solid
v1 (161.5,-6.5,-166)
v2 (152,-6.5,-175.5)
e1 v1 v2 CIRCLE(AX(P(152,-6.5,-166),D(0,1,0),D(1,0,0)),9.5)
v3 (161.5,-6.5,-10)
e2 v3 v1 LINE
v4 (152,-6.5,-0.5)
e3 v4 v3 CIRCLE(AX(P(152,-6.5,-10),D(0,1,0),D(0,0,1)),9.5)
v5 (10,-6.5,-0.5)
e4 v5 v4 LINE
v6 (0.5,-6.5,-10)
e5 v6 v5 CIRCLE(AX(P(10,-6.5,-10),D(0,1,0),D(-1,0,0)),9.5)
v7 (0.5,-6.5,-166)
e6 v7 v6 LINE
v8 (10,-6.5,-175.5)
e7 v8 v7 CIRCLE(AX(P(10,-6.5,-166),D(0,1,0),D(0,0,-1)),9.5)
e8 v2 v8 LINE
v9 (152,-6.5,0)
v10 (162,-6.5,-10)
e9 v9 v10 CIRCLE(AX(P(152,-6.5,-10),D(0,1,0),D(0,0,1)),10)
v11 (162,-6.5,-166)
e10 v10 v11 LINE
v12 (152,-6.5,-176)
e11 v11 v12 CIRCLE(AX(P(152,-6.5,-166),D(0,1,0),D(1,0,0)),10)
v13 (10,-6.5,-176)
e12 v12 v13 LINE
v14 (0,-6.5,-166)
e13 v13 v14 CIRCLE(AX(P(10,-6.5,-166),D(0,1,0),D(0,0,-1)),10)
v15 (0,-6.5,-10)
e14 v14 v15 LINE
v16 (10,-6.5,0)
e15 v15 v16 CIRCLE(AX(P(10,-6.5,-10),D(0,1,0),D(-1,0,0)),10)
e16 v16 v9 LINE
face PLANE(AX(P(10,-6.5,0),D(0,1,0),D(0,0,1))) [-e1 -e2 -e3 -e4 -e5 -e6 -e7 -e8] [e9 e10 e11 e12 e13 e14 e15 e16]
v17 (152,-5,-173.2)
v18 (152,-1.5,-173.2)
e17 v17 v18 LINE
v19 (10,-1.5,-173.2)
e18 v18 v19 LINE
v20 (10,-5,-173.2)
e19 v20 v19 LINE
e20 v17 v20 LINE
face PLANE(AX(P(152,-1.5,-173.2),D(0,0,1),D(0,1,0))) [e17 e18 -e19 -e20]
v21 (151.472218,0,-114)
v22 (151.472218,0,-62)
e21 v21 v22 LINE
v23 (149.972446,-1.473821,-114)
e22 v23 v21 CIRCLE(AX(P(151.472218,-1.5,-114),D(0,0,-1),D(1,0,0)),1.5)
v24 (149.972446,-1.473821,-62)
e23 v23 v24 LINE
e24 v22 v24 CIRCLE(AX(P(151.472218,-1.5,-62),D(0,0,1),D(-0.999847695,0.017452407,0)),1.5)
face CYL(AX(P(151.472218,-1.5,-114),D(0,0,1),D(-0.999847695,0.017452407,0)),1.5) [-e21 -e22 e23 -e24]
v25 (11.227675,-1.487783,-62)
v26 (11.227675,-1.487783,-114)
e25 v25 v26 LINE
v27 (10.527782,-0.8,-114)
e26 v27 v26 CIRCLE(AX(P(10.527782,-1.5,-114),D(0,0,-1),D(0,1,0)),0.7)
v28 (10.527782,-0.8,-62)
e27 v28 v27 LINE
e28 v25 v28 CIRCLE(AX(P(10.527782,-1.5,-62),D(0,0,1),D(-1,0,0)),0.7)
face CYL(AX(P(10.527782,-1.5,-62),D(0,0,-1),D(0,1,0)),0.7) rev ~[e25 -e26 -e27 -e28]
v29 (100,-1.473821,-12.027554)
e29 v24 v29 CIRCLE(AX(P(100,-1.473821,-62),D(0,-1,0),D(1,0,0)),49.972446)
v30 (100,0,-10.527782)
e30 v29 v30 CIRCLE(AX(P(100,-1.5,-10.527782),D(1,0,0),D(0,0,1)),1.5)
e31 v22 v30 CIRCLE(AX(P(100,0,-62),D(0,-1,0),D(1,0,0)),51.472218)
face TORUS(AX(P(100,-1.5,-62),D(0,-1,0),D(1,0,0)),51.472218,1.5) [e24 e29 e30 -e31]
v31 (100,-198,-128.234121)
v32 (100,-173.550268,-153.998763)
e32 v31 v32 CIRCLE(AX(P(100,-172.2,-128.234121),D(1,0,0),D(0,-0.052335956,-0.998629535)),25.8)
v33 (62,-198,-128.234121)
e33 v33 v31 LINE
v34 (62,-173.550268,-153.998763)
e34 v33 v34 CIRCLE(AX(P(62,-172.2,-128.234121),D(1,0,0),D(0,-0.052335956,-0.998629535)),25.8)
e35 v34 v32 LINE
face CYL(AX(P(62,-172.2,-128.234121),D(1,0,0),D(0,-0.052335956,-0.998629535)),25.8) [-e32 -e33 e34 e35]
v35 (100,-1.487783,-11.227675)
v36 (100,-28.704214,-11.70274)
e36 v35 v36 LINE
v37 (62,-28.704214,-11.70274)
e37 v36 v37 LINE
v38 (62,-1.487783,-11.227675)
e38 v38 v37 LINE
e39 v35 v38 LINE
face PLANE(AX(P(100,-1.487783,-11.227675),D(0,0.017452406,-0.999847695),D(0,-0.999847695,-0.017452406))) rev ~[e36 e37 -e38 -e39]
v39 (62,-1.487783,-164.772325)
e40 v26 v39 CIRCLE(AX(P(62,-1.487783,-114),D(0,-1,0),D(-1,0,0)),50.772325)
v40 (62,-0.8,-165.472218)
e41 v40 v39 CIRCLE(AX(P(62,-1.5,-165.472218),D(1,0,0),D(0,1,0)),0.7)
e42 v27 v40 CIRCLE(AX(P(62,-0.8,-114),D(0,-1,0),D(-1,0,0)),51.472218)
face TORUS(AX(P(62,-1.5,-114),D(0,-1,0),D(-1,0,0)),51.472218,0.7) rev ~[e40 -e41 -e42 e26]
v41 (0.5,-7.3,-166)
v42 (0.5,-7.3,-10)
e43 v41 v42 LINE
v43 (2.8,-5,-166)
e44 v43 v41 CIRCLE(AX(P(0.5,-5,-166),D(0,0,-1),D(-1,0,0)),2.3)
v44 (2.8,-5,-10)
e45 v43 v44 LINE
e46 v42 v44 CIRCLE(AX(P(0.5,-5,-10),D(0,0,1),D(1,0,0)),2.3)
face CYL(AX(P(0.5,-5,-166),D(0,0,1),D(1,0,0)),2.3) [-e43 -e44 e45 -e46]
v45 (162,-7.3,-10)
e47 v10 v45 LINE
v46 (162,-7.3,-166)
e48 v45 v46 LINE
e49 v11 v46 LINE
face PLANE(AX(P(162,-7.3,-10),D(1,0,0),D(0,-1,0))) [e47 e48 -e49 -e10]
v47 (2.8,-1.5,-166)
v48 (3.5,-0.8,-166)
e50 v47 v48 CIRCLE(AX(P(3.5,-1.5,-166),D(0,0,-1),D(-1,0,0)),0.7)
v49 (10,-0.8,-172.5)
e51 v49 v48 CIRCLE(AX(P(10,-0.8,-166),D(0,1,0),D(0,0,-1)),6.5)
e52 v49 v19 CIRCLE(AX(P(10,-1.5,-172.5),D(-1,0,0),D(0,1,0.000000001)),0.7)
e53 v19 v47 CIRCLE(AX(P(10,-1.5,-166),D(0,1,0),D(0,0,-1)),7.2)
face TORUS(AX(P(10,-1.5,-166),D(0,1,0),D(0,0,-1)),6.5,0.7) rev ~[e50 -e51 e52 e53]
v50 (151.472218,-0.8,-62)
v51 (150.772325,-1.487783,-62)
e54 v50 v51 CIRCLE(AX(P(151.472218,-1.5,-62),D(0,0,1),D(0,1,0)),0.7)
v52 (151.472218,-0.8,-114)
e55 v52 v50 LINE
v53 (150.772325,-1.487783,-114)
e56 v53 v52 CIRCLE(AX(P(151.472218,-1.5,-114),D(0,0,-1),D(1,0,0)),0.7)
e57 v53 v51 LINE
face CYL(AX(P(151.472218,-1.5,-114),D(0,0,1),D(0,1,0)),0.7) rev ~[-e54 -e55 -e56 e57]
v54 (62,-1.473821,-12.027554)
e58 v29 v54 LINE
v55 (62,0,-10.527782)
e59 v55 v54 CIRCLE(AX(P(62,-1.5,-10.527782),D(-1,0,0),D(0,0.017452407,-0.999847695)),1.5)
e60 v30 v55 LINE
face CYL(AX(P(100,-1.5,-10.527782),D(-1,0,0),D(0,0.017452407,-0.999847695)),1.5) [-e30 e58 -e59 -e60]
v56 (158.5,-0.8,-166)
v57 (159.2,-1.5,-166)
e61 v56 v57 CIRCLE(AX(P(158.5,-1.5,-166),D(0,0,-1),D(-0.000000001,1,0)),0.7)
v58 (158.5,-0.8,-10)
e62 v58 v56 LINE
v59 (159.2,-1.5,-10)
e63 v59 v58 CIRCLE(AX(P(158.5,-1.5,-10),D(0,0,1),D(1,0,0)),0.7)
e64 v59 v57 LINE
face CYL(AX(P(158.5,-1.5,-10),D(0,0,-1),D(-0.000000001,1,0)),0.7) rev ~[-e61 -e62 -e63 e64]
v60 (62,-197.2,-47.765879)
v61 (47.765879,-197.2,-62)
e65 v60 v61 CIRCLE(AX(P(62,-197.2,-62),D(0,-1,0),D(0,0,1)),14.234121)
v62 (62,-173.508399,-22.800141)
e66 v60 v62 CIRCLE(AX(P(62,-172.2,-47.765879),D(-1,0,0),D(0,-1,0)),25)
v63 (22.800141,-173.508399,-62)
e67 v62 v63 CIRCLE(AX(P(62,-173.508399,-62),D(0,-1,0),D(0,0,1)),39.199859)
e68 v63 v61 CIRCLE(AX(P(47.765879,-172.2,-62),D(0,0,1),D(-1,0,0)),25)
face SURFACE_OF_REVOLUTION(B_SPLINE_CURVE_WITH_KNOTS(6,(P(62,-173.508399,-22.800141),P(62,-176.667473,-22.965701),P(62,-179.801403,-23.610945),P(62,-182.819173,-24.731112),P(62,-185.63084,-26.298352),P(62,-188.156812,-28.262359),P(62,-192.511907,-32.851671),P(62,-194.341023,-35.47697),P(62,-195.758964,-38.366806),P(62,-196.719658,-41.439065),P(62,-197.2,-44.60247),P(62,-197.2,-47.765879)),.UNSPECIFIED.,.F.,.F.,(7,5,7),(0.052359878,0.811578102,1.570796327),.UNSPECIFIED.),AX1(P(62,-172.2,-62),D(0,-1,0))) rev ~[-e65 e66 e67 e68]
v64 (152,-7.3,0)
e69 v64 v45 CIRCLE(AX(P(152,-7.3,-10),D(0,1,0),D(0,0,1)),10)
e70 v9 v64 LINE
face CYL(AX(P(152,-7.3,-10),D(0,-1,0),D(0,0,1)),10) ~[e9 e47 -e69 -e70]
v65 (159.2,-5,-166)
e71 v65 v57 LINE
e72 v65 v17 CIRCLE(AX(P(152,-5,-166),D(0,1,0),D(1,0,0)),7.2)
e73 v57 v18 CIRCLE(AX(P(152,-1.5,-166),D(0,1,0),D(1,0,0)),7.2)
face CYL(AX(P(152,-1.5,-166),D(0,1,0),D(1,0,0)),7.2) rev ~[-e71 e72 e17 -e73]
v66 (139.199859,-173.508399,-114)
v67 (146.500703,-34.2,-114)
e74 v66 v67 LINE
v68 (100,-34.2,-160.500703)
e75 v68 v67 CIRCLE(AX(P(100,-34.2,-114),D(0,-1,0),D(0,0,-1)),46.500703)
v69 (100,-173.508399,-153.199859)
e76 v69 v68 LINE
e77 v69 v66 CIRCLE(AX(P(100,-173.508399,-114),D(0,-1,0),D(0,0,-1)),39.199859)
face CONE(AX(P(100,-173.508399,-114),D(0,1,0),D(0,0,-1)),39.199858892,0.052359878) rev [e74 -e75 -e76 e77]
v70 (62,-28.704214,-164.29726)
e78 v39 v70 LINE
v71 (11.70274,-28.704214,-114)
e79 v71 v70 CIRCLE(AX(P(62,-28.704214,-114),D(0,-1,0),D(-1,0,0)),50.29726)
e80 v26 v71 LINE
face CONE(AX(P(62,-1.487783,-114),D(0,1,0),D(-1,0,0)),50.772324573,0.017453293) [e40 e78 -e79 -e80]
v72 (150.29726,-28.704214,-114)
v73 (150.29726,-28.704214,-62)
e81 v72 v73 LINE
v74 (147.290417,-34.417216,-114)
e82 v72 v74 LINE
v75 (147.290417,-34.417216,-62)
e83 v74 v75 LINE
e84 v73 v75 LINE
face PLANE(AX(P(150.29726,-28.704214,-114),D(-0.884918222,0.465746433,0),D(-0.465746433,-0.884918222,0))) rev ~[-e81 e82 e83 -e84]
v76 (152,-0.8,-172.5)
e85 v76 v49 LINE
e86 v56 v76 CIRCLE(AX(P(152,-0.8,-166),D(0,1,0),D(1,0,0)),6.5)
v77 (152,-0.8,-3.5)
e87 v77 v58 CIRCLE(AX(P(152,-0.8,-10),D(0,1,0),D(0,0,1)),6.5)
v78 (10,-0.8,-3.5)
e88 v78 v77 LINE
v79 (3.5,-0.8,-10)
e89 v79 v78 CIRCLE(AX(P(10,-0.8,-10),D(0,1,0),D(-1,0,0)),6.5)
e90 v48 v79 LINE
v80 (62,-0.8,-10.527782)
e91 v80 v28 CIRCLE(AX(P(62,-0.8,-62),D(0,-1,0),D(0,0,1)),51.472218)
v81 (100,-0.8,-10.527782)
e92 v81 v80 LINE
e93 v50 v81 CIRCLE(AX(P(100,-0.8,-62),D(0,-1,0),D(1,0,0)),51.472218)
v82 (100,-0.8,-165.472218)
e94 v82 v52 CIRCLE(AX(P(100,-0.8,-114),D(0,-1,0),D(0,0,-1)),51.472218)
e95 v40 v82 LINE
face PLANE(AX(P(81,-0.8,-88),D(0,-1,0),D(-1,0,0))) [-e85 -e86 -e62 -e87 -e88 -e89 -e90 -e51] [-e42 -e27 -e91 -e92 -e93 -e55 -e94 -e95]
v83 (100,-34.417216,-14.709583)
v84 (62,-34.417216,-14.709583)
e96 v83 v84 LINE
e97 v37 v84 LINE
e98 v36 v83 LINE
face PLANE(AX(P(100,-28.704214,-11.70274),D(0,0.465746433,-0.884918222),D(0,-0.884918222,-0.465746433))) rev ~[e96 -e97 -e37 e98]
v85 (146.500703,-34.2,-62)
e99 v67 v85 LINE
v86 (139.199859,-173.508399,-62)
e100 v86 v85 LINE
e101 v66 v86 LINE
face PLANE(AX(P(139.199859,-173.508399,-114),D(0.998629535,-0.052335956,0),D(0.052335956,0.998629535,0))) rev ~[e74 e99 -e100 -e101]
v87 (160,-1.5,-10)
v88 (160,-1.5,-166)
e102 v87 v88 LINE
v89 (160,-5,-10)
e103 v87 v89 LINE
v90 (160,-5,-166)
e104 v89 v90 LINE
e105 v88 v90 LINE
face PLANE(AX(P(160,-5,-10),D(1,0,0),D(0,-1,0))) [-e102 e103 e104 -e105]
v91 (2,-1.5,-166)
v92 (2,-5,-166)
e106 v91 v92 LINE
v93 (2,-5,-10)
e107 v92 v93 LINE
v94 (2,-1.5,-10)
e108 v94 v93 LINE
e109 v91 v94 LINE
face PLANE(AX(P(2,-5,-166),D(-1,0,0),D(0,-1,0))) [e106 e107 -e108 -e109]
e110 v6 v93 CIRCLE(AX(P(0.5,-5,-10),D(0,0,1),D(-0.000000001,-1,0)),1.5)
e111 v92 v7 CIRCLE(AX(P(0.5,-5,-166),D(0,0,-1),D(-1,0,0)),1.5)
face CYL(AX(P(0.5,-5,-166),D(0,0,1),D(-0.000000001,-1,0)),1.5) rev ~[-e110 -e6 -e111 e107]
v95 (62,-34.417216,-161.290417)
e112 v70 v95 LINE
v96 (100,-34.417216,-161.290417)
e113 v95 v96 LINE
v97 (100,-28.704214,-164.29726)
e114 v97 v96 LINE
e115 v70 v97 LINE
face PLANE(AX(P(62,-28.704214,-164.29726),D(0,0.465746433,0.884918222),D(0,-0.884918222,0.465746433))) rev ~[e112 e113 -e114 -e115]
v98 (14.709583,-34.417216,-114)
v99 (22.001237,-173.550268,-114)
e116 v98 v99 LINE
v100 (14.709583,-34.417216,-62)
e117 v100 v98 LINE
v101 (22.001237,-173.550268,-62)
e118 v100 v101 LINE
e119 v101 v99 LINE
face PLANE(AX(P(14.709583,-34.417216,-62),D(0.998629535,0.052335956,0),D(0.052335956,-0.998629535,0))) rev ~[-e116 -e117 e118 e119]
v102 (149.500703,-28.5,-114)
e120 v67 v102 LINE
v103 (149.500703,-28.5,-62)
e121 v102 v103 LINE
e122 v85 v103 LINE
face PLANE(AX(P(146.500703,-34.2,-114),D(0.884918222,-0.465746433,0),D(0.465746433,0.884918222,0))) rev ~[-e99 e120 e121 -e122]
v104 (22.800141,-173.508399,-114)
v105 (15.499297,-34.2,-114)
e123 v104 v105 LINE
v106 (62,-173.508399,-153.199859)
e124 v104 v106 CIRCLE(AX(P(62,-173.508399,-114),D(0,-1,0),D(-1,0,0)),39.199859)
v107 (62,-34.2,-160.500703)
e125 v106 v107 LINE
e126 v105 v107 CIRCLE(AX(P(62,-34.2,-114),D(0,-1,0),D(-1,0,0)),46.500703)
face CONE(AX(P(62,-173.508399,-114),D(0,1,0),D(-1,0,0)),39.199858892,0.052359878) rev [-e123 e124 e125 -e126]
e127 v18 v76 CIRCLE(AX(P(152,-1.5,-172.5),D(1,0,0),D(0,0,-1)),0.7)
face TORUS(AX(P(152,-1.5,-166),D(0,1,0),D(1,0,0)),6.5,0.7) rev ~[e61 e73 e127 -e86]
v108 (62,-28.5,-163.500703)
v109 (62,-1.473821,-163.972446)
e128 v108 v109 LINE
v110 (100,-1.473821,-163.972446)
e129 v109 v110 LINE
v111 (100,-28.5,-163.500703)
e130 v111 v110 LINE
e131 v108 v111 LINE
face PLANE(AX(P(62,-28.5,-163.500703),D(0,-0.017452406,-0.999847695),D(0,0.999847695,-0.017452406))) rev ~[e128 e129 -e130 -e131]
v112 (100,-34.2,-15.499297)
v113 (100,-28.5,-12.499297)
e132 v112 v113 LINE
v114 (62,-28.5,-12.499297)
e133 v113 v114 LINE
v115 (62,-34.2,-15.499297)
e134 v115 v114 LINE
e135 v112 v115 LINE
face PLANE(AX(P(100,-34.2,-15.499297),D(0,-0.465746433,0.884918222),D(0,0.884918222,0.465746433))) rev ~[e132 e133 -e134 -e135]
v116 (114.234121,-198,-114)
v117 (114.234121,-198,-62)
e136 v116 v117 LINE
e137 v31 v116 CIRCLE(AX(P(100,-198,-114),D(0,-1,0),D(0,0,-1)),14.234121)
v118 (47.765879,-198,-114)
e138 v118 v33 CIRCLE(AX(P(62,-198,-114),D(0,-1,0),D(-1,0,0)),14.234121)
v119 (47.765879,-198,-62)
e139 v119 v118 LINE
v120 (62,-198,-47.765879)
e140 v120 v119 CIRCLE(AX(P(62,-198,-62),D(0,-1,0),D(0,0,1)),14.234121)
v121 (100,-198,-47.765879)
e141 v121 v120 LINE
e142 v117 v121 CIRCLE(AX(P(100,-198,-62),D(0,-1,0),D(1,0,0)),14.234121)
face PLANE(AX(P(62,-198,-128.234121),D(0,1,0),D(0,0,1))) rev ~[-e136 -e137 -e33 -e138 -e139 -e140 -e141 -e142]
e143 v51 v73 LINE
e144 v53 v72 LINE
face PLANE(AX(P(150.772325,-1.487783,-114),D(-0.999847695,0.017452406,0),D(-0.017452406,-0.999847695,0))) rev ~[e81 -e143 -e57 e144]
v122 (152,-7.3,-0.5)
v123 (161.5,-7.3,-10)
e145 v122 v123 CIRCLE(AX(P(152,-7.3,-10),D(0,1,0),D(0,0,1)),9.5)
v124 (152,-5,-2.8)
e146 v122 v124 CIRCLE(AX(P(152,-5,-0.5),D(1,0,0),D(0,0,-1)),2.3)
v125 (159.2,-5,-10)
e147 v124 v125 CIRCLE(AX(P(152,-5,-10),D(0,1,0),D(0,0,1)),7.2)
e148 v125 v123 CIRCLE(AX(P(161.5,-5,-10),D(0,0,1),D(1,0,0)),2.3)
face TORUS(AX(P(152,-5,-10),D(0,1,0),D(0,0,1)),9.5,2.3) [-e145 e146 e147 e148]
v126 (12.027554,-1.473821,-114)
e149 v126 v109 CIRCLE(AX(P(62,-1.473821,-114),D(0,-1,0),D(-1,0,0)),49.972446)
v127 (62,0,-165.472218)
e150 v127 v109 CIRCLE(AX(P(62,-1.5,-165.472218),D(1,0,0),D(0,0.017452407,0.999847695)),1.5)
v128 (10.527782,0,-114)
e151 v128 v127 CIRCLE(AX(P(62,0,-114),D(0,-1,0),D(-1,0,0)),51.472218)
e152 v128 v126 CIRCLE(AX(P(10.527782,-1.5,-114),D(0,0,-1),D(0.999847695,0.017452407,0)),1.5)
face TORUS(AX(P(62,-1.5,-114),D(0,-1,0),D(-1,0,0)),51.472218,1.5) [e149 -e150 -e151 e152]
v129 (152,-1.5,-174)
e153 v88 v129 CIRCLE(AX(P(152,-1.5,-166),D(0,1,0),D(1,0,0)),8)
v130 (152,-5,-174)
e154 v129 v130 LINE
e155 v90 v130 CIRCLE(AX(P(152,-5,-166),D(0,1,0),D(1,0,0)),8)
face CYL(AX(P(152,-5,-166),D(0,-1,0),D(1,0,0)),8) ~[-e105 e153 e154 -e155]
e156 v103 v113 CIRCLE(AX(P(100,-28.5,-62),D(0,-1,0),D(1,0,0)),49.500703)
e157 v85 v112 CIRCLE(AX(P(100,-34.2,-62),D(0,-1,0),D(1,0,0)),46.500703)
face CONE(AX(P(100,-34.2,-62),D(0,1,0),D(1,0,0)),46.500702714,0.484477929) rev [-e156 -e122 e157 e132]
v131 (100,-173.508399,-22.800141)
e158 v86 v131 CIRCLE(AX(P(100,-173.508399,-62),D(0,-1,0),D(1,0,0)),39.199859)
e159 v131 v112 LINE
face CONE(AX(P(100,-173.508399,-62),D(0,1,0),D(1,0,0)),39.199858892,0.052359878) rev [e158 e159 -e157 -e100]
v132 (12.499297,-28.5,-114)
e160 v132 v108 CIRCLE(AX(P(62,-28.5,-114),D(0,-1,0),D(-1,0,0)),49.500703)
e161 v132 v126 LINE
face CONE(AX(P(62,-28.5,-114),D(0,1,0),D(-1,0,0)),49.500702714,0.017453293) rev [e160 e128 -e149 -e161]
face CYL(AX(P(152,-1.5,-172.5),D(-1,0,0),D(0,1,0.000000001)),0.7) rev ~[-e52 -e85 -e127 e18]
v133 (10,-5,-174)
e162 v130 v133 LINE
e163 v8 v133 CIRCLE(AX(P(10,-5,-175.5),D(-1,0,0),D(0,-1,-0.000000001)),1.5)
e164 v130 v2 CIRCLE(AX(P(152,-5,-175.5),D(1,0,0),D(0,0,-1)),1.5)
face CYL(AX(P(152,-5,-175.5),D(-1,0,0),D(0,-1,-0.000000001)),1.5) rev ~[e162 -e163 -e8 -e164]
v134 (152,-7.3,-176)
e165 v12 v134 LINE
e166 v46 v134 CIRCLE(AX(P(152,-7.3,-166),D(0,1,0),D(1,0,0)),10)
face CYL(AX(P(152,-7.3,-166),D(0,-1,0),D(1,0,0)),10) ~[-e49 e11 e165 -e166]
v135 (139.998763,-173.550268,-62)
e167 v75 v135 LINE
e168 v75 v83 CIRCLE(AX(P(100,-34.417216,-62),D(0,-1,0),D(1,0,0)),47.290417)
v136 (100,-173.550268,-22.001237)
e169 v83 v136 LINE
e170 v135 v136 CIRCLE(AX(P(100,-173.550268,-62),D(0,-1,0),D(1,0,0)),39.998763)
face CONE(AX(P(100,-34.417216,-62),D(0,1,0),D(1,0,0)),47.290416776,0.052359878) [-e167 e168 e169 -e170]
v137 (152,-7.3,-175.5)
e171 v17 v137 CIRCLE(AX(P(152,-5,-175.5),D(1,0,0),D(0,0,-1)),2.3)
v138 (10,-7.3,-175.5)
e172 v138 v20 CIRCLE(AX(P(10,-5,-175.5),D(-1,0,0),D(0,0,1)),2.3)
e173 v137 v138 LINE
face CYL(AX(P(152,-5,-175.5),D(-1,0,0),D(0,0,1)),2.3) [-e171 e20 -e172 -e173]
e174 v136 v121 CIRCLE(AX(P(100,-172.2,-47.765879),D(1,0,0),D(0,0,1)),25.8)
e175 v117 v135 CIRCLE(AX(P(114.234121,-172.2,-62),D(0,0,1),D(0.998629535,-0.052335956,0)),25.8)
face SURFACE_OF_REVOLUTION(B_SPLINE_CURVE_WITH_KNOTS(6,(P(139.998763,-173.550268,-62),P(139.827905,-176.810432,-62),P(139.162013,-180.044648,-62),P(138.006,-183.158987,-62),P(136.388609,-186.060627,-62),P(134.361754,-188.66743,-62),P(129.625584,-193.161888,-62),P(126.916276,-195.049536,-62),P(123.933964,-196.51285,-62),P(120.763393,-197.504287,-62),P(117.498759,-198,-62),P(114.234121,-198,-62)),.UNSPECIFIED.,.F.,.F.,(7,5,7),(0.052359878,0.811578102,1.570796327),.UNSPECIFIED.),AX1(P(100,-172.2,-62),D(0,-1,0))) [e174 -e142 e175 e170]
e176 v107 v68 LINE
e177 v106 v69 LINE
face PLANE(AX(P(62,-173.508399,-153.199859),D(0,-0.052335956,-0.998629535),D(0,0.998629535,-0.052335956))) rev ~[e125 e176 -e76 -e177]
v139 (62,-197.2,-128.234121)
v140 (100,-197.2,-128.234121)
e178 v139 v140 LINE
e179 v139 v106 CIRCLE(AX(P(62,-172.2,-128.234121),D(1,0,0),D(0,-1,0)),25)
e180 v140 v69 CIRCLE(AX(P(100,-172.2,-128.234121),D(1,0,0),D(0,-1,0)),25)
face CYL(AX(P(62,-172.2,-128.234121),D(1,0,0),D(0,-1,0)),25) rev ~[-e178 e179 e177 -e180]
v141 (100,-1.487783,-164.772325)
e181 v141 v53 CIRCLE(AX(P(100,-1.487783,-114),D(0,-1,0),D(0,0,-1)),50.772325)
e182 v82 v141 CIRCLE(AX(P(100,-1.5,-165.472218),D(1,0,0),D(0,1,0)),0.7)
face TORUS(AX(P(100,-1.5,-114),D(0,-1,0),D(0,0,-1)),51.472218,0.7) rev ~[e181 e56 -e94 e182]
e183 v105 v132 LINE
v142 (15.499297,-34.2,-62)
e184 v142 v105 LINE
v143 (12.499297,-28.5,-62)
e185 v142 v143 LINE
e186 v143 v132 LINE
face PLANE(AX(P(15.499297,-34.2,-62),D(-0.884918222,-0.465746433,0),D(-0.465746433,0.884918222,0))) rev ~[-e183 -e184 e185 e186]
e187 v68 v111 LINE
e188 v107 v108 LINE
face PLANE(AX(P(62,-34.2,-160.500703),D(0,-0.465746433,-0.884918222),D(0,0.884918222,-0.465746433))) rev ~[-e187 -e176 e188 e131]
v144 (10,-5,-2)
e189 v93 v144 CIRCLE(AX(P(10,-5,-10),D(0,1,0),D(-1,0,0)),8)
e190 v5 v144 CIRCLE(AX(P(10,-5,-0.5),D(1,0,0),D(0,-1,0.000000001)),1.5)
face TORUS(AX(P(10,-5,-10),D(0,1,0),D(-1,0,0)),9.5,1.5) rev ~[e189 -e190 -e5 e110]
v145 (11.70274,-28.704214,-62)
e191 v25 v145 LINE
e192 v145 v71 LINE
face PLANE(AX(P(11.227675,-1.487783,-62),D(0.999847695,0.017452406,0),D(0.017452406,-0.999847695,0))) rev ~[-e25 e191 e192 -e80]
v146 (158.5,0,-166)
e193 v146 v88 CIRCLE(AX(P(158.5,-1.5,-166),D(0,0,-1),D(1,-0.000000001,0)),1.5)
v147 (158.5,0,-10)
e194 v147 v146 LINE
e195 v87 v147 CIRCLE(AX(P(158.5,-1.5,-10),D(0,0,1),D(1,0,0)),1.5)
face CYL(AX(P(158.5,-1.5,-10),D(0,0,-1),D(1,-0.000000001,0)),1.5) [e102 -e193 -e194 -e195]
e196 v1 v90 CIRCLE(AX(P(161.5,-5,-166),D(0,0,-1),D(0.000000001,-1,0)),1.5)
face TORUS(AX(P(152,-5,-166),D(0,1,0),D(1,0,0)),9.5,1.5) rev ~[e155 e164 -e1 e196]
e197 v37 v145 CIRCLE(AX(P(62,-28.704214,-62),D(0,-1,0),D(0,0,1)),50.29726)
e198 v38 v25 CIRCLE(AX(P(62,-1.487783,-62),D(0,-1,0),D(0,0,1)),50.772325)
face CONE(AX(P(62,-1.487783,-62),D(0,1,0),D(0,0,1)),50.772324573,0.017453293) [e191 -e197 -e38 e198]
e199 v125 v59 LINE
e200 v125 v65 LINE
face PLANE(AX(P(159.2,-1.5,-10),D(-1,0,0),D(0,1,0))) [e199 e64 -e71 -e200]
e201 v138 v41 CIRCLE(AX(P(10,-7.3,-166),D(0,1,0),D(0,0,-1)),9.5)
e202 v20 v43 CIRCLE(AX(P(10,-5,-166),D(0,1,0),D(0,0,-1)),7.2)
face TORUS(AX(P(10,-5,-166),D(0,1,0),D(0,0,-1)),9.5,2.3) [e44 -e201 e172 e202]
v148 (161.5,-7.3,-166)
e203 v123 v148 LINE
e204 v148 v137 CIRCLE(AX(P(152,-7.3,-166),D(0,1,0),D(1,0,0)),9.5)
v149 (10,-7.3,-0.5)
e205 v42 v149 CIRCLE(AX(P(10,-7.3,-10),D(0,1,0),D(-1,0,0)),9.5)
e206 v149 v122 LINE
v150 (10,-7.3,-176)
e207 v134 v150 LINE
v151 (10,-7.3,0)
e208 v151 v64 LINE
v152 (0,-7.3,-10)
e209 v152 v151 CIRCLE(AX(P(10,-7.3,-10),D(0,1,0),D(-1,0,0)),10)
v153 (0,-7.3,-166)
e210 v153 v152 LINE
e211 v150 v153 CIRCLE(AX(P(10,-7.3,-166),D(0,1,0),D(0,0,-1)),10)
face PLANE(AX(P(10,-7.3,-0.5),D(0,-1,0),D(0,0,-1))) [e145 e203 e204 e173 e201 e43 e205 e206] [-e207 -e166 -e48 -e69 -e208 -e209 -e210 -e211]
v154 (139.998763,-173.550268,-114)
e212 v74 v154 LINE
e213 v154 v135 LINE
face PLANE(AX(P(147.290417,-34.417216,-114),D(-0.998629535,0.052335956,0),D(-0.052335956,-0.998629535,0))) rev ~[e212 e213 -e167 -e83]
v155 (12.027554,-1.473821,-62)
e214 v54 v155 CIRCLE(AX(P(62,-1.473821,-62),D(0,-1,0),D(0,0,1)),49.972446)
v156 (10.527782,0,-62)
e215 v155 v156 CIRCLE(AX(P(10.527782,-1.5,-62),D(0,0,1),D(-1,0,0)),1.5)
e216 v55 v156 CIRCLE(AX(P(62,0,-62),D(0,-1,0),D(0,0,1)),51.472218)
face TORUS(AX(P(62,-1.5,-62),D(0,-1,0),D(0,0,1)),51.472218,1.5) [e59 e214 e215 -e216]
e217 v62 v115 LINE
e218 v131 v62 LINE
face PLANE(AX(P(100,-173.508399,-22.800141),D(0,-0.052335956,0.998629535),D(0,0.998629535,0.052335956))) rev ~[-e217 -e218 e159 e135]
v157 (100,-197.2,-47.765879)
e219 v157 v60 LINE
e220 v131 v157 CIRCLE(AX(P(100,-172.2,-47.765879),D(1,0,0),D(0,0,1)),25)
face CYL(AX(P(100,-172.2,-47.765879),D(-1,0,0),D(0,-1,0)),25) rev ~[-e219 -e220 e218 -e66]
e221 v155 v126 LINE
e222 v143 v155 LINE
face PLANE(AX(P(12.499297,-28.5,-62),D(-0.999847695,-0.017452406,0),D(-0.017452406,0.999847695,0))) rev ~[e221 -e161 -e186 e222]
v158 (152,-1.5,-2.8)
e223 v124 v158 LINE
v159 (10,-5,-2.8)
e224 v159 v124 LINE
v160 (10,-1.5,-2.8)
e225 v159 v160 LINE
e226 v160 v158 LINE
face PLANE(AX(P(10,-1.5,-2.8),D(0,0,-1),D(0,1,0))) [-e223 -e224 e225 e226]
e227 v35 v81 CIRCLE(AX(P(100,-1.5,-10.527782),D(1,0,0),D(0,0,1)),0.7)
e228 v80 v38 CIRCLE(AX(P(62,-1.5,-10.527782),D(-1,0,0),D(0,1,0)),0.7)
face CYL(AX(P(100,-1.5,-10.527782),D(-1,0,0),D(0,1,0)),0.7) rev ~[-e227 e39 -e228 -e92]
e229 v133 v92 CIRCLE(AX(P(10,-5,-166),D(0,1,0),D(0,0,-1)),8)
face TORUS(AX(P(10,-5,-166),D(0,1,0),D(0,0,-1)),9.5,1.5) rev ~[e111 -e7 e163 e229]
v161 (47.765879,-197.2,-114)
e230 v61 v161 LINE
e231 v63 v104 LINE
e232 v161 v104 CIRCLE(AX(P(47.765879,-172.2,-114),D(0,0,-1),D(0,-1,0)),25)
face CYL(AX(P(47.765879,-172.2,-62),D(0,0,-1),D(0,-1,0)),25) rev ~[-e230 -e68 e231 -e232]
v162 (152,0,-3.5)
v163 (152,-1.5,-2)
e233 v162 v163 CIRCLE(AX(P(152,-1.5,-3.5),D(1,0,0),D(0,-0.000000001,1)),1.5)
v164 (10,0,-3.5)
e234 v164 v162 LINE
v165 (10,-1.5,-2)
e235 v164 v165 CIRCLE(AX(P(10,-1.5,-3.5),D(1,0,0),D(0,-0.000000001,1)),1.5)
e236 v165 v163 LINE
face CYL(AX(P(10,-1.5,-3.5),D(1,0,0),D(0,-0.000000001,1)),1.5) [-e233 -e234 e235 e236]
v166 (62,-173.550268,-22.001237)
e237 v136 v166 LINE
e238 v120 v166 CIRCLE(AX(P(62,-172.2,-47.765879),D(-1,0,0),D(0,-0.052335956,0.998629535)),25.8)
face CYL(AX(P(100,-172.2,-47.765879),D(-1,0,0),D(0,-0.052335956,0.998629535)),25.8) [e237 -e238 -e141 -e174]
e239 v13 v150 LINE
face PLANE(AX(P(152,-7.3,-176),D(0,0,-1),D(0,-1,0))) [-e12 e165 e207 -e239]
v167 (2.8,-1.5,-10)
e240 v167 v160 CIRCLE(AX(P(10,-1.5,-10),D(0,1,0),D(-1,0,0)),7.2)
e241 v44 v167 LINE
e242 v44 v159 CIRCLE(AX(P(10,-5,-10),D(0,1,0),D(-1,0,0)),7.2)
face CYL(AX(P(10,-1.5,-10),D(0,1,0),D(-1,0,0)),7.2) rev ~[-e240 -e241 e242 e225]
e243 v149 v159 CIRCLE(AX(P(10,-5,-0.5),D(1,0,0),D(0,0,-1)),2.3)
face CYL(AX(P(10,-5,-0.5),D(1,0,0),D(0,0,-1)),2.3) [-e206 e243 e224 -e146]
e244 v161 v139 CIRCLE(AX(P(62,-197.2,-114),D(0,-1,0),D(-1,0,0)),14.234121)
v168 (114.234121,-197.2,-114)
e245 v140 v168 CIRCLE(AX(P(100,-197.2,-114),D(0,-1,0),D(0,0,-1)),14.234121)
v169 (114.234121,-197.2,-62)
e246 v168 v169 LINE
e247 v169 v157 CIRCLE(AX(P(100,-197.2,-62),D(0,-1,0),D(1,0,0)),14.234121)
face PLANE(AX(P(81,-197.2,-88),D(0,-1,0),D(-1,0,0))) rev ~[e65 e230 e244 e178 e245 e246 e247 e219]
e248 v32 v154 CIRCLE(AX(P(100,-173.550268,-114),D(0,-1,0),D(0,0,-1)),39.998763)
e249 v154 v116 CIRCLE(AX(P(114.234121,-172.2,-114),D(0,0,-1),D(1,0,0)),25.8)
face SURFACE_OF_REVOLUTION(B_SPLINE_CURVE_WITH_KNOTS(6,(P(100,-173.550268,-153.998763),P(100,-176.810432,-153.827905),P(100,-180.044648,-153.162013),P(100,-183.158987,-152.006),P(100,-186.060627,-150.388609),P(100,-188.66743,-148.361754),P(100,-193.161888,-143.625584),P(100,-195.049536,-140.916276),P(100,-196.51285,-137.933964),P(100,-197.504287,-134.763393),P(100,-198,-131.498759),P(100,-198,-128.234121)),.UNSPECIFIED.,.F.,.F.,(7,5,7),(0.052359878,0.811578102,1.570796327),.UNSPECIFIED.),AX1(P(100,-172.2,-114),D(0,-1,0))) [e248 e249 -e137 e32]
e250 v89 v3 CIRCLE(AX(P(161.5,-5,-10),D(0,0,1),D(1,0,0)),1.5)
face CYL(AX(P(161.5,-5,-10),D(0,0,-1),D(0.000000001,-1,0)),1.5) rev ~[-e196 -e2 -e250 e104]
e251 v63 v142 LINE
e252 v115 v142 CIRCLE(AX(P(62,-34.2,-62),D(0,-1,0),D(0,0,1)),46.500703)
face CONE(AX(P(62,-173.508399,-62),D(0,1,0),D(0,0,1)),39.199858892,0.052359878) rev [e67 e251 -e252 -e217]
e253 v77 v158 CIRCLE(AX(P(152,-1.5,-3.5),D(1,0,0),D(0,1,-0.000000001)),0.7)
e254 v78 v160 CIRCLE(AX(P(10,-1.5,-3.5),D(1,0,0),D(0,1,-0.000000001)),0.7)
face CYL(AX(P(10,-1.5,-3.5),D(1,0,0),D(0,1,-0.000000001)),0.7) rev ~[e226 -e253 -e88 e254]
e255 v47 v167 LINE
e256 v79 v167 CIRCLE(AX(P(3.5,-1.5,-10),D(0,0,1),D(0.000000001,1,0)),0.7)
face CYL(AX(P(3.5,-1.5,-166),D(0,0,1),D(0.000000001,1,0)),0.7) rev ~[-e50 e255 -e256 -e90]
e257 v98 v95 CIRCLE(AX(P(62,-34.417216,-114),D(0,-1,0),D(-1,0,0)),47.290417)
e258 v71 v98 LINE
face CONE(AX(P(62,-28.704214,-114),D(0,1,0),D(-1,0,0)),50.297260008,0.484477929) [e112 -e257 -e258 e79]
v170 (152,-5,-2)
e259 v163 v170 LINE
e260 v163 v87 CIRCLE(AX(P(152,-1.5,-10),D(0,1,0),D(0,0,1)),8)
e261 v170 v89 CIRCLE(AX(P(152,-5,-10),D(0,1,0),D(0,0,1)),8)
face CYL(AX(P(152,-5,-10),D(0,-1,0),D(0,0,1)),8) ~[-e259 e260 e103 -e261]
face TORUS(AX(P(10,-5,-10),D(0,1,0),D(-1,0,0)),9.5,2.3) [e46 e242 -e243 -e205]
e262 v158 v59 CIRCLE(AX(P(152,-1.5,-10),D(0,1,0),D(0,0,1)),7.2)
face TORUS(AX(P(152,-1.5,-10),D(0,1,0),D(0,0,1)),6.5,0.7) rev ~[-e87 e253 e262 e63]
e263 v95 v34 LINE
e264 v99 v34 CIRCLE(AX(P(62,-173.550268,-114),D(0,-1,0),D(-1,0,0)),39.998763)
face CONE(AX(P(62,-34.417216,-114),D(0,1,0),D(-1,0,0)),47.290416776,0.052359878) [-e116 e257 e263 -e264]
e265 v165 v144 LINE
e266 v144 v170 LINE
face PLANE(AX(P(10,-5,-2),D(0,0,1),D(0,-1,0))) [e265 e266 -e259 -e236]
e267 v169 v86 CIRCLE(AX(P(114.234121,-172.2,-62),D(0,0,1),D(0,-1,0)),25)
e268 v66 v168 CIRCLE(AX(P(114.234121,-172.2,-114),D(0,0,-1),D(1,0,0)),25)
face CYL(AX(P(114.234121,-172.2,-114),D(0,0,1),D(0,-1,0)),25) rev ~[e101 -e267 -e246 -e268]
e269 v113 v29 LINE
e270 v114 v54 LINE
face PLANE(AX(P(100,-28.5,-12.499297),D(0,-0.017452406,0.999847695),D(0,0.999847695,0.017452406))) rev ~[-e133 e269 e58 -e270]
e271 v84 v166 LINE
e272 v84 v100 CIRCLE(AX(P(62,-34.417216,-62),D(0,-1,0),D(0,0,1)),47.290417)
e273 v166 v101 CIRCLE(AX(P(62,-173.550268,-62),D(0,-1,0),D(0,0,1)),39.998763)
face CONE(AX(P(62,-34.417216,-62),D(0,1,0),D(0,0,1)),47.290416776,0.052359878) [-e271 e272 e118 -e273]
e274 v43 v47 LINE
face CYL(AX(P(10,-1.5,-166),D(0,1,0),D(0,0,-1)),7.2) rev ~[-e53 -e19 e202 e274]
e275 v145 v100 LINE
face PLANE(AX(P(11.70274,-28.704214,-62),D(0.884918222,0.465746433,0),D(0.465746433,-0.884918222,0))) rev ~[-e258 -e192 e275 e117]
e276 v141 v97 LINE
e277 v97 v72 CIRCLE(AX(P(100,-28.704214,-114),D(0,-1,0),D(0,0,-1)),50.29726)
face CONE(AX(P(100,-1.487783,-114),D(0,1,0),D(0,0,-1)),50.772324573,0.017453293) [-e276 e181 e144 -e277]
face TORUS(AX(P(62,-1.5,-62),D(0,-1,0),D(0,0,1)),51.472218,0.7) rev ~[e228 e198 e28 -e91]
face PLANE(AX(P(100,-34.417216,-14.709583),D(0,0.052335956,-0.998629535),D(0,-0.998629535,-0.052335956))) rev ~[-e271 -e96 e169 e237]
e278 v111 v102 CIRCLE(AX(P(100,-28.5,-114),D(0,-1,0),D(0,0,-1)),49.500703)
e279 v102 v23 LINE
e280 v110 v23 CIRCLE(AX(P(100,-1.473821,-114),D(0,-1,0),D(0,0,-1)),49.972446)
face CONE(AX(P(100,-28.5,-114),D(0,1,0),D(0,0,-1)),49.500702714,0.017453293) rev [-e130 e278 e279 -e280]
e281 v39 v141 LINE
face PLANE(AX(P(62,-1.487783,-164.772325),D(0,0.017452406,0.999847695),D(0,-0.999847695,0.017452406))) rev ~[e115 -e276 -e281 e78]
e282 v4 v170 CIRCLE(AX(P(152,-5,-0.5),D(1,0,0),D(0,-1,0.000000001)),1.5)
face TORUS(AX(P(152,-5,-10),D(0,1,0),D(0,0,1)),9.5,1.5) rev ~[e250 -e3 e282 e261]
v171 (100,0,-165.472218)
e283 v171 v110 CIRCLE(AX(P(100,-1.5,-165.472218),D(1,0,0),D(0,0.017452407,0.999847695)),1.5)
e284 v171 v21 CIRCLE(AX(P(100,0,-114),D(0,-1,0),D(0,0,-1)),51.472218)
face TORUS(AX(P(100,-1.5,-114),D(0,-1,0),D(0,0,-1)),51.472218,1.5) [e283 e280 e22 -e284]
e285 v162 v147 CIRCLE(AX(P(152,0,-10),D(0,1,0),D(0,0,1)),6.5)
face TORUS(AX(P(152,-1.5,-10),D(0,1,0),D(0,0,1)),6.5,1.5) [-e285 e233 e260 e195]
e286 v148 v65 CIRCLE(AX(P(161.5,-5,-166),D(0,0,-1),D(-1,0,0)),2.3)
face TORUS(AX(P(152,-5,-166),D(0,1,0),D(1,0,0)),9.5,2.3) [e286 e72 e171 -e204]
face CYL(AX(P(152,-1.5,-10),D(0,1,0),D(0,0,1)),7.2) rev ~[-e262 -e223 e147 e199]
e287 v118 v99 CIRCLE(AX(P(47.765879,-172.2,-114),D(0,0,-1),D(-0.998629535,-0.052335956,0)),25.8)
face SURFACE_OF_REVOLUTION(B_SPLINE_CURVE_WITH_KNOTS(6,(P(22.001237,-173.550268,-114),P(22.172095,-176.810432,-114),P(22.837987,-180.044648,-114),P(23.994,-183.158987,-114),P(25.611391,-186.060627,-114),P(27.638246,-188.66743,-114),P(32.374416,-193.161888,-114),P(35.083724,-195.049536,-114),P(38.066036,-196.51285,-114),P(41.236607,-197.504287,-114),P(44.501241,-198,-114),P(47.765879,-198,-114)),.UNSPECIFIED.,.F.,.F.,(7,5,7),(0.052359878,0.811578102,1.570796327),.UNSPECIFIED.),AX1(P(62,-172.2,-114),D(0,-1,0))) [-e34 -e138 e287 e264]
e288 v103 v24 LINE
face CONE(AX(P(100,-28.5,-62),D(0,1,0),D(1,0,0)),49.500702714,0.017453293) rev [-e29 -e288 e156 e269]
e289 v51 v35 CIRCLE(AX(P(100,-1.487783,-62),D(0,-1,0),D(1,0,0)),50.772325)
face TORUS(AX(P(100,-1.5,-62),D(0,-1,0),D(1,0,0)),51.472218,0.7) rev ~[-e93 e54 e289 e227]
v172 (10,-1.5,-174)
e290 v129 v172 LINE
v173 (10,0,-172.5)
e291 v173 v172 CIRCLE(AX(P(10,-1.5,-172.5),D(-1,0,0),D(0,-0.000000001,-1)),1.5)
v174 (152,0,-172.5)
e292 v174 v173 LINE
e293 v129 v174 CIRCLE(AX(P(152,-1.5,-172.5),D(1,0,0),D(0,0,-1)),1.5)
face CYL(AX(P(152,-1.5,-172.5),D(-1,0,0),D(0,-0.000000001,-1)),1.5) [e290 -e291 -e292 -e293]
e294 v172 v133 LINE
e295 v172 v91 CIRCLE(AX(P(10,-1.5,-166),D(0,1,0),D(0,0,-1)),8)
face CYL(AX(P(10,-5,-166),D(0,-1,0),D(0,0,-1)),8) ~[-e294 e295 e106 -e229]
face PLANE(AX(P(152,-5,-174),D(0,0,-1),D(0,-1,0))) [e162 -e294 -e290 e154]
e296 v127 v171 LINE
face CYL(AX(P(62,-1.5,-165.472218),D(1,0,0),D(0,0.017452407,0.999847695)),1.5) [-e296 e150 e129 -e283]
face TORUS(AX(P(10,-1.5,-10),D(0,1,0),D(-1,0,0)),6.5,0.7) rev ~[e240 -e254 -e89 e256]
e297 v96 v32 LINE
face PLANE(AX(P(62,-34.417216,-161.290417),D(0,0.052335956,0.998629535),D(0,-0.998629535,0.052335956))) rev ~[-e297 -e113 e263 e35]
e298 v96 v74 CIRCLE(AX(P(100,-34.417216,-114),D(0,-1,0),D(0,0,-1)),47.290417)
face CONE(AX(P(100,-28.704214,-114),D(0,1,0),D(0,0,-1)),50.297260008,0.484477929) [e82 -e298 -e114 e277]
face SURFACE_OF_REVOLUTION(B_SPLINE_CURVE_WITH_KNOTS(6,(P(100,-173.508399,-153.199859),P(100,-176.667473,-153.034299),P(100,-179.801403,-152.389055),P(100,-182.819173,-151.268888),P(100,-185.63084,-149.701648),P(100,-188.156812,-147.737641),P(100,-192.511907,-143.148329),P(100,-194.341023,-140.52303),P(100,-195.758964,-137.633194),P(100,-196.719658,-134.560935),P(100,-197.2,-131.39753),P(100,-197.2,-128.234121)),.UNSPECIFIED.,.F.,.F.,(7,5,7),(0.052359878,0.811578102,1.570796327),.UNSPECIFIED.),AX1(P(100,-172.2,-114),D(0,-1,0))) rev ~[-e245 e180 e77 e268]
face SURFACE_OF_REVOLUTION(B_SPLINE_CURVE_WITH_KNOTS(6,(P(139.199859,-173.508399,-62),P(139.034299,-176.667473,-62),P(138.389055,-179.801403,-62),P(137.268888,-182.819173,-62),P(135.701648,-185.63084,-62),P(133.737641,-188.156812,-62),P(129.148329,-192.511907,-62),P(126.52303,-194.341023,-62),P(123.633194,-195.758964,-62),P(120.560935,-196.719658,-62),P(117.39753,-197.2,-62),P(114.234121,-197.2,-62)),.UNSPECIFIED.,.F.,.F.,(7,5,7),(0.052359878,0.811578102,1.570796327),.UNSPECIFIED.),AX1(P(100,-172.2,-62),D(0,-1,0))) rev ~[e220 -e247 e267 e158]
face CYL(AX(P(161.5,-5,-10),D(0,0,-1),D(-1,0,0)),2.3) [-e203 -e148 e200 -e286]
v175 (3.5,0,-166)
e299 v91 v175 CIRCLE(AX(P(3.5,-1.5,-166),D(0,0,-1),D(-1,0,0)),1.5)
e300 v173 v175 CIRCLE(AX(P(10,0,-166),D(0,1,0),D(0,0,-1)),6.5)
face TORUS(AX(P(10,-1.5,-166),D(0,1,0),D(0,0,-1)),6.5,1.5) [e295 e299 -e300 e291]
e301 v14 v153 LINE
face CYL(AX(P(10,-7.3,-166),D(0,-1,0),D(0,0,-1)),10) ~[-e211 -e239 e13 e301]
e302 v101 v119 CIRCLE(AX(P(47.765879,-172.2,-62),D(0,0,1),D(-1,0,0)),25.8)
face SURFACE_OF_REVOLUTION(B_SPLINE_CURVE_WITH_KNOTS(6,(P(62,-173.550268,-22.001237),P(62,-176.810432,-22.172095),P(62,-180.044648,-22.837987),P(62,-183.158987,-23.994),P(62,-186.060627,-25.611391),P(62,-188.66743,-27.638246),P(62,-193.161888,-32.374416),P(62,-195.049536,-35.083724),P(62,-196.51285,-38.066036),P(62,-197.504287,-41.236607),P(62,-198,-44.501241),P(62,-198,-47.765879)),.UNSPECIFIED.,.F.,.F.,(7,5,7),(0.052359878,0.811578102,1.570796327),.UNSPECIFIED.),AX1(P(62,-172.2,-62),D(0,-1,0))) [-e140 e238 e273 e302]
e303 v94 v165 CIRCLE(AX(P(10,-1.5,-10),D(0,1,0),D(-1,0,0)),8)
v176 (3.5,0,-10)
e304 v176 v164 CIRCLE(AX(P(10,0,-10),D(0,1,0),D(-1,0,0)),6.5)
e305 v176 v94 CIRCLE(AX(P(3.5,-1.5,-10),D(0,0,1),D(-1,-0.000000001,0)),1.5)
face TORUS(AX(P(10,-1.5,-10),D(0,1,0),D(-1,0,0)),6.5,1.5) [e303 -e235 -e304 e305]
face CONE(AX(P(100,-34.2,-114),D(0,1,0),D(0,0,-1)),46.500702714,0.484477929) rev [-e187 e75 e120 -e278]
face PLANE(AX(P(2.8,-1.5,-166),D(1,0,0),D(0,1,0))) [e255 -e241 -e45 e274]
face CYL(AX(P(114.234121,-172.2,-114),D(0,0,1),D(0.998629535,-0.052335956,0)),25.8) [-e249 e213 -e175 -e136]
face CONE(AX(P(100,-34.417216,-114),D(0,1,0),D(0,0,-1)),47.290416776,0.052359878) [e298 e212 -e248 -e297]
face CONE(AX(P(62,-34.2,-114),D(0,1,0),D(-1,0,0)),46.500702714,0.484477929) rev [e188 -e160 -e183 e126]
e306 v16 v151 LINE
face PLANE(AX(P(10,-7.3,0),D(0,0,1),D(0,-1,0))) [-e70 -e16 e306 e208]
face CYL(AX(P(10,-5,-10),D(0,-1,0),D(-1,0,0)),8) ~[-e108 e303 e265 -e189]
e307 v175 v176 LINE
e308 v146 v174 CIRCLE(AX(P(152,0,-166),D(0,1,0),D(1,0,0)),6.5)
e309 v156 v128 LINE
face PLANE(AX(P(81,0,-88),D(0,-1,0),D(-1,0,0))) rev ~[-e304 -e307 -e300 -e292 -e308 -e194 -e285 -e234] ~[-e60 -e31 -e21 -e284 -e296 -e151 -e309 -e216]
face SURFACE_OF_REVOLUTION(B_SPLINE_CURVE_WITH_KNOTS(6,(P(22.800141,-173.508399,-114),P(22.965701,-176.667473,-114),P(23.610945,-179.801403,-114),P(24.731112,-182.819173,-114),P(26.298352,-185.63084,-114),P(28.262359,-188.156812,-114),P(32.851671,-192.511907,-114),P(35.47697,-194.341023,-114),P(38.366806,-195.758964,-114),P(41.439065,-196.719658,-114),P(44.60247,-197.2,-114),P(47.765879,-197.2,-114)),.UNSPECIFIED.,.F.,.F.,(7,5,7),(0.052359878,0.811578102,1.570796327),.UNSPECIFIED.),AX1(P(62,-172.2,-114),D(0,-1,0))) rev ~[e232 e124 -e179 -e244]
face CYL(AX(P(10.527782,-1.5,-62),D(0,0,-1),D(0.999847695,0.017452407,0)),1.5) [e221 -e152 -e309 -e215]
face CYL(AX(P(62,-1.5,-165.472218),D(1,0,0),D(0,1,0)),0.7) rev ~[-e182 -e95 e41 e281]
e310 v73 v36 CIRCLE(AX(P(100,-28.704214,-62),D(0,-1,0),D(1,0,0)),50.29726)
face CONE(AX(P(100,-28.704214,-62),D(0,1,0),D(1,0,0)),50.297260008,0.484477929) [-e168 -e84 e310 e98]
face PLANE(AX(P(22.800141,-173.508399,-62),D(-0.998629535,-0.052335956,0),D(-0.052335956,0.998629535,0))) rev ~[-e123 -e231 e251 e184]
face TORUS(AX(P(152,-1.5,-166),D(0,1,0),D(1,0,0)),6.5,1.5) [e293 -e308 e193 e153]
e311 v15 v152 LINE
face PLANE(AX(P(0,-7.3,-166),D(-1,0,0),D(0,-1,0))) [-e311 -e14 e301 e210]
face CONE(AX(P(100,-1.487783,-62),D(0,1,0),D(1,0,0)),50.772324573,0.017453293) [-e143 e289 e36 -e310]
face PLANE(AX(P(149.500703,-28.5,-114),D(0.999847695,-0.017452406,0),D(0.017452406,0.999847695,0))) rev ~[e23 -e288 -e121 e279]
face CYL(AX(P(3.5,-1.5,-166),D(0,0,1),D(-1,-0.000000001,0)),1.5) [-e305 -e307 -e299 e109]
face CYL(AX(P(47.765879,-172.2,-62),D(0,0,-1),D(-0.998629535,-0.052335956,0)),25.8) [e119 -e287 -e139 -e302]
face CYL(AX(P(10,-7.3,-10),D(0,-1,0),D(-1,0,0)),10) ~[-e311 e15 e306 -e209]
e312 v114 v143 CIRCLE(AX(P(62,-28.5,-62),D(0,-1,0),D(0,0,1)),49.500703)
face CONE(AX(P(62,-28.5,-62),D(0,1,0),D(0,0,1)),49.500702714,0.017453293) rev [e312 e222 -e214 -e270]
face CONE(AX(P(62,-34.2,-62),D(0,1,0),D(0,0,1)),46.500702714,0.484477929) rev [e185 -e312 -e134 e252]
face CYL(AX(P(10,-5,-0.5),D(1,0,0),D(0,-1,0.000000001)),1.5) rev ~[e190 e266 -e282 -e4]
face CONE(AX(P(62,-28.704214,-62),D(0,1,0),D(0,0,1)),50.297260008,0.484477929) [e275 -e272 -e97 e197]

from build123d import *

# Parameters (mm, degrees)
BOSS_EXTRUDE2_DEPTH = 0.8
BOSS_EXTRUDE3_START = -0.8
BOSS_EXTRUDE3_DEPTH = 0.8


with BuildPart() as part:
    # Sweep9: sweep along a path in Sketch1
    with BuildLine(Plane(origin=(0, 0, 0), x_dir=(1, 0, 0), z_dir=(0, 1, 0))) as sweep9_path:
        Line((10, 0), (152, 0))
        ThreePointArc((152, 0), (159.071067812, 2.928932188), (162, 10))
        Line((162, 10), (162, 166))
        ThreePointArc((162, 166), (159.071067812, 173.071067812), (152, 176))
        Line((152, 176), (10, 176))
        ThreePointArc((10, 176), (2.928932188, 173.071067812), (0, 166))
        Line((0, 166), (0, 10))
        ThreePointArc((0, 10), (2.928932188, 2.928932188), (10, 0))
    # Sketch7 → Sweep9 (sweep)
    with BuildSketch(Plane.XY.offset(-10)):
        with BuildLine():
            Line((2, -5), (2, -1.5))
            ThreePointArc((2, -1.5), (2.439339828, -0.439339828), (3.5, 0))
            Line((3.5, 0), (3.5, -0.8))
            ThreePointArc((3.5, -0.8), (3.005025253, -1.005025253), (2.8, -1.5))
            Line((2.8, -1.5), (2.8, -5))
            ThreePointArc((2.8, -5), (2.126345597, -6.626345597), (0.5, -7.3))
            Line((0.5, -7.3), (0, -7.3))
            Line((0, -7.3), (0, -6.5))
            Line((0, -6.5), (0.5, -6.5))
            ThreePointArc((0.5, -6.5), (1.560660172, -6.060660172), (2, -5))
        make_face()
    sweep(path=sweep9_path.line)



with BuildPart() as body_2:
    # Sweep10: sweep along a path in Sketch9
    with BuildLine(Plane(origin=(0, 0, 0), x_dir=(1, 0, 0), z_dir=(0, 1, 0))) as sweep10_path:
        Line((62, 164), (100, 164))
        ThreePointArc((100, 164), (135.355339059, 149.355339059), (150, 114))
        Line((150, 114), (150, 62))
        ThreePointArc((150, 62), (135.355339059, 26.644660941), (100, 12))
        Line((100, 12), (62, 12))
        ThreePointArc((62, 12), (26.644660941, 26.644660941), (12, 62))
        Line((12, 62), (12, 114))
        ThreePointArc((12, 114), (26.644660941, 149.355339059), (62, 164))
    # Sketch10 → Sweep10 (sweep)
    with BuildSketch(Plane.XY.offset(-62)):
        with BuildLine():
            Line((10.527782042, 0), (10.527782042, -0.8))
            ThreePointArc((10.527782042, -0.8), (11.018418527, -1.000724686), (11.227675428, -1.487783315))
            Line((11.227675428, -1.487783315), (11.702739993, -28.704213986))
            Line((11.702739993, -28.704213986), (14.709583225, -34.417216127))
            Line((14.709583225, -34.417216127), (22.001237481, -173.550267671))
            ThreePointArc((22.001237481, -173.550267671), (30.006331425, -190.914658772), (47.765879478, -198))
            Line((47.765879478, -198), (57.765879478, -198))
            Line((57.765879478, -198), (57.765879478, -197.2))
            Line((57.765879478, -197.2), (47.765879478, -197.2))
            ThreePointArc((47.765879478, -197.2), (30.557015086, -190.334359275), (22.800141109, -173.508398906))
            Line((22.800141109, -173.508398906), (15.499297287, -34.2))
            Line((15.499297287, -34.2), (12.499297287, -28.5))
            Line((12.499297287, -28.5), (12.027553585, -1.47382139))
            ThreePointArc((12.027553585, -1.47382139), (11.579145938, -0.430124326), (10.527782042, 0))
        make_face()
    sweep(path=sweep10_path.line)


with BuildPart() as part_1:
    add(part.part)

    add(body_2.part)  # Boss-Extrude2 merges body 2
    # Sketch11 → Boss-Extrude2 (add)
    with BuildSketch(Plane(origin=(0, 0, 0), x_dir=(1, 0, 0), z_dir=(0, 1, 0))):
        with BuildLine():
            Line((158.5, 166), (158.5, 10))
            ThreePointArc((158.5, 10), (156.596194078, 5.403805922), (152, 3.5))
            Line((152, 3.5), (10, 3.5))
            ThreePointArc((10, 3.5), (5.403805922, 5.403805922), (3.5, 10))
            Line((3.5, 10), (3.5, 166))
            ThreePointArc((3.5, 166), (5.403805922, 170.596194078), (10, 172.5))
            Line((10, 172.5), (152, 172.5))
            ThreePointArc((152, 172.5), (156.596194078, 170.596194078), (158.5, 166))
        make_face()
        with BuildLine():
            Line((10.527782042, 62), (10.527782042, 114))
            ThreePointArc((10.527782042, 114), (25.603645639, 150.396354361), (62, 165.472217958))
            Line((62, 165.472217958), (100, 165.472217958))
            ThreePointArc((100, 165.472217958), (136.396354361, 150.396354361), (151.472217958, 114))
            Line((151.472217958, 114), (151.472217958, 62))
            ThreePointArc((151.472217958, 62), (136.396354361, 25.603645639), (100, 10.527782042))
            Line((100, 10.527782042), (62, 10.527782042))
            ThreePointArc((62, 10.527782042), (25.603645639, 25.603645639), (10.527782042, 62))
        make_face(mode=Mode.SUBTRACT)
    extrude(amount=-BOSS_EXTRUDE2_DEPTH)

    # Sketch12 → Boss-Extrude3 (add)
    with BuildSketch(Plane(origin=(0, -198, 0), x_dir=(-1, 0, 0), z_dir=(0, -1, 0)).offset(BOSS_EXTRUDE3_START)):
        with BuildLine():
            Line((-62, 118.234120522), (-100, 118.234120522))
            ThreePointArc((-100, 118.234120522), (-102.993975333, 116.993975333), (-104.234120522, 114))
            Line((-104.234120522, 114), (-104.234120522, 62))
            ThreePointArc((-104.234120522, 62), (-102.993975333, 59.006024667), (-100, 57.765879478))
            Line((-100, 57.765879478), (-62, 57.765879478))
            ThreePointArc((-62, 57.765879478), (-59.006024667, 59.006024667), (-57.765879478, 62))
            Line((-57.765879478, 62), (-57.765879478, 114))
            ThreePointArc((-57.765879478, 114), (-59.006024667, 116.993975333), (-62, 118.234120522))
        make_face()
    extrude(amount=BOSS_EXTRUDE3_DEPTH)


solid = part_1.part
